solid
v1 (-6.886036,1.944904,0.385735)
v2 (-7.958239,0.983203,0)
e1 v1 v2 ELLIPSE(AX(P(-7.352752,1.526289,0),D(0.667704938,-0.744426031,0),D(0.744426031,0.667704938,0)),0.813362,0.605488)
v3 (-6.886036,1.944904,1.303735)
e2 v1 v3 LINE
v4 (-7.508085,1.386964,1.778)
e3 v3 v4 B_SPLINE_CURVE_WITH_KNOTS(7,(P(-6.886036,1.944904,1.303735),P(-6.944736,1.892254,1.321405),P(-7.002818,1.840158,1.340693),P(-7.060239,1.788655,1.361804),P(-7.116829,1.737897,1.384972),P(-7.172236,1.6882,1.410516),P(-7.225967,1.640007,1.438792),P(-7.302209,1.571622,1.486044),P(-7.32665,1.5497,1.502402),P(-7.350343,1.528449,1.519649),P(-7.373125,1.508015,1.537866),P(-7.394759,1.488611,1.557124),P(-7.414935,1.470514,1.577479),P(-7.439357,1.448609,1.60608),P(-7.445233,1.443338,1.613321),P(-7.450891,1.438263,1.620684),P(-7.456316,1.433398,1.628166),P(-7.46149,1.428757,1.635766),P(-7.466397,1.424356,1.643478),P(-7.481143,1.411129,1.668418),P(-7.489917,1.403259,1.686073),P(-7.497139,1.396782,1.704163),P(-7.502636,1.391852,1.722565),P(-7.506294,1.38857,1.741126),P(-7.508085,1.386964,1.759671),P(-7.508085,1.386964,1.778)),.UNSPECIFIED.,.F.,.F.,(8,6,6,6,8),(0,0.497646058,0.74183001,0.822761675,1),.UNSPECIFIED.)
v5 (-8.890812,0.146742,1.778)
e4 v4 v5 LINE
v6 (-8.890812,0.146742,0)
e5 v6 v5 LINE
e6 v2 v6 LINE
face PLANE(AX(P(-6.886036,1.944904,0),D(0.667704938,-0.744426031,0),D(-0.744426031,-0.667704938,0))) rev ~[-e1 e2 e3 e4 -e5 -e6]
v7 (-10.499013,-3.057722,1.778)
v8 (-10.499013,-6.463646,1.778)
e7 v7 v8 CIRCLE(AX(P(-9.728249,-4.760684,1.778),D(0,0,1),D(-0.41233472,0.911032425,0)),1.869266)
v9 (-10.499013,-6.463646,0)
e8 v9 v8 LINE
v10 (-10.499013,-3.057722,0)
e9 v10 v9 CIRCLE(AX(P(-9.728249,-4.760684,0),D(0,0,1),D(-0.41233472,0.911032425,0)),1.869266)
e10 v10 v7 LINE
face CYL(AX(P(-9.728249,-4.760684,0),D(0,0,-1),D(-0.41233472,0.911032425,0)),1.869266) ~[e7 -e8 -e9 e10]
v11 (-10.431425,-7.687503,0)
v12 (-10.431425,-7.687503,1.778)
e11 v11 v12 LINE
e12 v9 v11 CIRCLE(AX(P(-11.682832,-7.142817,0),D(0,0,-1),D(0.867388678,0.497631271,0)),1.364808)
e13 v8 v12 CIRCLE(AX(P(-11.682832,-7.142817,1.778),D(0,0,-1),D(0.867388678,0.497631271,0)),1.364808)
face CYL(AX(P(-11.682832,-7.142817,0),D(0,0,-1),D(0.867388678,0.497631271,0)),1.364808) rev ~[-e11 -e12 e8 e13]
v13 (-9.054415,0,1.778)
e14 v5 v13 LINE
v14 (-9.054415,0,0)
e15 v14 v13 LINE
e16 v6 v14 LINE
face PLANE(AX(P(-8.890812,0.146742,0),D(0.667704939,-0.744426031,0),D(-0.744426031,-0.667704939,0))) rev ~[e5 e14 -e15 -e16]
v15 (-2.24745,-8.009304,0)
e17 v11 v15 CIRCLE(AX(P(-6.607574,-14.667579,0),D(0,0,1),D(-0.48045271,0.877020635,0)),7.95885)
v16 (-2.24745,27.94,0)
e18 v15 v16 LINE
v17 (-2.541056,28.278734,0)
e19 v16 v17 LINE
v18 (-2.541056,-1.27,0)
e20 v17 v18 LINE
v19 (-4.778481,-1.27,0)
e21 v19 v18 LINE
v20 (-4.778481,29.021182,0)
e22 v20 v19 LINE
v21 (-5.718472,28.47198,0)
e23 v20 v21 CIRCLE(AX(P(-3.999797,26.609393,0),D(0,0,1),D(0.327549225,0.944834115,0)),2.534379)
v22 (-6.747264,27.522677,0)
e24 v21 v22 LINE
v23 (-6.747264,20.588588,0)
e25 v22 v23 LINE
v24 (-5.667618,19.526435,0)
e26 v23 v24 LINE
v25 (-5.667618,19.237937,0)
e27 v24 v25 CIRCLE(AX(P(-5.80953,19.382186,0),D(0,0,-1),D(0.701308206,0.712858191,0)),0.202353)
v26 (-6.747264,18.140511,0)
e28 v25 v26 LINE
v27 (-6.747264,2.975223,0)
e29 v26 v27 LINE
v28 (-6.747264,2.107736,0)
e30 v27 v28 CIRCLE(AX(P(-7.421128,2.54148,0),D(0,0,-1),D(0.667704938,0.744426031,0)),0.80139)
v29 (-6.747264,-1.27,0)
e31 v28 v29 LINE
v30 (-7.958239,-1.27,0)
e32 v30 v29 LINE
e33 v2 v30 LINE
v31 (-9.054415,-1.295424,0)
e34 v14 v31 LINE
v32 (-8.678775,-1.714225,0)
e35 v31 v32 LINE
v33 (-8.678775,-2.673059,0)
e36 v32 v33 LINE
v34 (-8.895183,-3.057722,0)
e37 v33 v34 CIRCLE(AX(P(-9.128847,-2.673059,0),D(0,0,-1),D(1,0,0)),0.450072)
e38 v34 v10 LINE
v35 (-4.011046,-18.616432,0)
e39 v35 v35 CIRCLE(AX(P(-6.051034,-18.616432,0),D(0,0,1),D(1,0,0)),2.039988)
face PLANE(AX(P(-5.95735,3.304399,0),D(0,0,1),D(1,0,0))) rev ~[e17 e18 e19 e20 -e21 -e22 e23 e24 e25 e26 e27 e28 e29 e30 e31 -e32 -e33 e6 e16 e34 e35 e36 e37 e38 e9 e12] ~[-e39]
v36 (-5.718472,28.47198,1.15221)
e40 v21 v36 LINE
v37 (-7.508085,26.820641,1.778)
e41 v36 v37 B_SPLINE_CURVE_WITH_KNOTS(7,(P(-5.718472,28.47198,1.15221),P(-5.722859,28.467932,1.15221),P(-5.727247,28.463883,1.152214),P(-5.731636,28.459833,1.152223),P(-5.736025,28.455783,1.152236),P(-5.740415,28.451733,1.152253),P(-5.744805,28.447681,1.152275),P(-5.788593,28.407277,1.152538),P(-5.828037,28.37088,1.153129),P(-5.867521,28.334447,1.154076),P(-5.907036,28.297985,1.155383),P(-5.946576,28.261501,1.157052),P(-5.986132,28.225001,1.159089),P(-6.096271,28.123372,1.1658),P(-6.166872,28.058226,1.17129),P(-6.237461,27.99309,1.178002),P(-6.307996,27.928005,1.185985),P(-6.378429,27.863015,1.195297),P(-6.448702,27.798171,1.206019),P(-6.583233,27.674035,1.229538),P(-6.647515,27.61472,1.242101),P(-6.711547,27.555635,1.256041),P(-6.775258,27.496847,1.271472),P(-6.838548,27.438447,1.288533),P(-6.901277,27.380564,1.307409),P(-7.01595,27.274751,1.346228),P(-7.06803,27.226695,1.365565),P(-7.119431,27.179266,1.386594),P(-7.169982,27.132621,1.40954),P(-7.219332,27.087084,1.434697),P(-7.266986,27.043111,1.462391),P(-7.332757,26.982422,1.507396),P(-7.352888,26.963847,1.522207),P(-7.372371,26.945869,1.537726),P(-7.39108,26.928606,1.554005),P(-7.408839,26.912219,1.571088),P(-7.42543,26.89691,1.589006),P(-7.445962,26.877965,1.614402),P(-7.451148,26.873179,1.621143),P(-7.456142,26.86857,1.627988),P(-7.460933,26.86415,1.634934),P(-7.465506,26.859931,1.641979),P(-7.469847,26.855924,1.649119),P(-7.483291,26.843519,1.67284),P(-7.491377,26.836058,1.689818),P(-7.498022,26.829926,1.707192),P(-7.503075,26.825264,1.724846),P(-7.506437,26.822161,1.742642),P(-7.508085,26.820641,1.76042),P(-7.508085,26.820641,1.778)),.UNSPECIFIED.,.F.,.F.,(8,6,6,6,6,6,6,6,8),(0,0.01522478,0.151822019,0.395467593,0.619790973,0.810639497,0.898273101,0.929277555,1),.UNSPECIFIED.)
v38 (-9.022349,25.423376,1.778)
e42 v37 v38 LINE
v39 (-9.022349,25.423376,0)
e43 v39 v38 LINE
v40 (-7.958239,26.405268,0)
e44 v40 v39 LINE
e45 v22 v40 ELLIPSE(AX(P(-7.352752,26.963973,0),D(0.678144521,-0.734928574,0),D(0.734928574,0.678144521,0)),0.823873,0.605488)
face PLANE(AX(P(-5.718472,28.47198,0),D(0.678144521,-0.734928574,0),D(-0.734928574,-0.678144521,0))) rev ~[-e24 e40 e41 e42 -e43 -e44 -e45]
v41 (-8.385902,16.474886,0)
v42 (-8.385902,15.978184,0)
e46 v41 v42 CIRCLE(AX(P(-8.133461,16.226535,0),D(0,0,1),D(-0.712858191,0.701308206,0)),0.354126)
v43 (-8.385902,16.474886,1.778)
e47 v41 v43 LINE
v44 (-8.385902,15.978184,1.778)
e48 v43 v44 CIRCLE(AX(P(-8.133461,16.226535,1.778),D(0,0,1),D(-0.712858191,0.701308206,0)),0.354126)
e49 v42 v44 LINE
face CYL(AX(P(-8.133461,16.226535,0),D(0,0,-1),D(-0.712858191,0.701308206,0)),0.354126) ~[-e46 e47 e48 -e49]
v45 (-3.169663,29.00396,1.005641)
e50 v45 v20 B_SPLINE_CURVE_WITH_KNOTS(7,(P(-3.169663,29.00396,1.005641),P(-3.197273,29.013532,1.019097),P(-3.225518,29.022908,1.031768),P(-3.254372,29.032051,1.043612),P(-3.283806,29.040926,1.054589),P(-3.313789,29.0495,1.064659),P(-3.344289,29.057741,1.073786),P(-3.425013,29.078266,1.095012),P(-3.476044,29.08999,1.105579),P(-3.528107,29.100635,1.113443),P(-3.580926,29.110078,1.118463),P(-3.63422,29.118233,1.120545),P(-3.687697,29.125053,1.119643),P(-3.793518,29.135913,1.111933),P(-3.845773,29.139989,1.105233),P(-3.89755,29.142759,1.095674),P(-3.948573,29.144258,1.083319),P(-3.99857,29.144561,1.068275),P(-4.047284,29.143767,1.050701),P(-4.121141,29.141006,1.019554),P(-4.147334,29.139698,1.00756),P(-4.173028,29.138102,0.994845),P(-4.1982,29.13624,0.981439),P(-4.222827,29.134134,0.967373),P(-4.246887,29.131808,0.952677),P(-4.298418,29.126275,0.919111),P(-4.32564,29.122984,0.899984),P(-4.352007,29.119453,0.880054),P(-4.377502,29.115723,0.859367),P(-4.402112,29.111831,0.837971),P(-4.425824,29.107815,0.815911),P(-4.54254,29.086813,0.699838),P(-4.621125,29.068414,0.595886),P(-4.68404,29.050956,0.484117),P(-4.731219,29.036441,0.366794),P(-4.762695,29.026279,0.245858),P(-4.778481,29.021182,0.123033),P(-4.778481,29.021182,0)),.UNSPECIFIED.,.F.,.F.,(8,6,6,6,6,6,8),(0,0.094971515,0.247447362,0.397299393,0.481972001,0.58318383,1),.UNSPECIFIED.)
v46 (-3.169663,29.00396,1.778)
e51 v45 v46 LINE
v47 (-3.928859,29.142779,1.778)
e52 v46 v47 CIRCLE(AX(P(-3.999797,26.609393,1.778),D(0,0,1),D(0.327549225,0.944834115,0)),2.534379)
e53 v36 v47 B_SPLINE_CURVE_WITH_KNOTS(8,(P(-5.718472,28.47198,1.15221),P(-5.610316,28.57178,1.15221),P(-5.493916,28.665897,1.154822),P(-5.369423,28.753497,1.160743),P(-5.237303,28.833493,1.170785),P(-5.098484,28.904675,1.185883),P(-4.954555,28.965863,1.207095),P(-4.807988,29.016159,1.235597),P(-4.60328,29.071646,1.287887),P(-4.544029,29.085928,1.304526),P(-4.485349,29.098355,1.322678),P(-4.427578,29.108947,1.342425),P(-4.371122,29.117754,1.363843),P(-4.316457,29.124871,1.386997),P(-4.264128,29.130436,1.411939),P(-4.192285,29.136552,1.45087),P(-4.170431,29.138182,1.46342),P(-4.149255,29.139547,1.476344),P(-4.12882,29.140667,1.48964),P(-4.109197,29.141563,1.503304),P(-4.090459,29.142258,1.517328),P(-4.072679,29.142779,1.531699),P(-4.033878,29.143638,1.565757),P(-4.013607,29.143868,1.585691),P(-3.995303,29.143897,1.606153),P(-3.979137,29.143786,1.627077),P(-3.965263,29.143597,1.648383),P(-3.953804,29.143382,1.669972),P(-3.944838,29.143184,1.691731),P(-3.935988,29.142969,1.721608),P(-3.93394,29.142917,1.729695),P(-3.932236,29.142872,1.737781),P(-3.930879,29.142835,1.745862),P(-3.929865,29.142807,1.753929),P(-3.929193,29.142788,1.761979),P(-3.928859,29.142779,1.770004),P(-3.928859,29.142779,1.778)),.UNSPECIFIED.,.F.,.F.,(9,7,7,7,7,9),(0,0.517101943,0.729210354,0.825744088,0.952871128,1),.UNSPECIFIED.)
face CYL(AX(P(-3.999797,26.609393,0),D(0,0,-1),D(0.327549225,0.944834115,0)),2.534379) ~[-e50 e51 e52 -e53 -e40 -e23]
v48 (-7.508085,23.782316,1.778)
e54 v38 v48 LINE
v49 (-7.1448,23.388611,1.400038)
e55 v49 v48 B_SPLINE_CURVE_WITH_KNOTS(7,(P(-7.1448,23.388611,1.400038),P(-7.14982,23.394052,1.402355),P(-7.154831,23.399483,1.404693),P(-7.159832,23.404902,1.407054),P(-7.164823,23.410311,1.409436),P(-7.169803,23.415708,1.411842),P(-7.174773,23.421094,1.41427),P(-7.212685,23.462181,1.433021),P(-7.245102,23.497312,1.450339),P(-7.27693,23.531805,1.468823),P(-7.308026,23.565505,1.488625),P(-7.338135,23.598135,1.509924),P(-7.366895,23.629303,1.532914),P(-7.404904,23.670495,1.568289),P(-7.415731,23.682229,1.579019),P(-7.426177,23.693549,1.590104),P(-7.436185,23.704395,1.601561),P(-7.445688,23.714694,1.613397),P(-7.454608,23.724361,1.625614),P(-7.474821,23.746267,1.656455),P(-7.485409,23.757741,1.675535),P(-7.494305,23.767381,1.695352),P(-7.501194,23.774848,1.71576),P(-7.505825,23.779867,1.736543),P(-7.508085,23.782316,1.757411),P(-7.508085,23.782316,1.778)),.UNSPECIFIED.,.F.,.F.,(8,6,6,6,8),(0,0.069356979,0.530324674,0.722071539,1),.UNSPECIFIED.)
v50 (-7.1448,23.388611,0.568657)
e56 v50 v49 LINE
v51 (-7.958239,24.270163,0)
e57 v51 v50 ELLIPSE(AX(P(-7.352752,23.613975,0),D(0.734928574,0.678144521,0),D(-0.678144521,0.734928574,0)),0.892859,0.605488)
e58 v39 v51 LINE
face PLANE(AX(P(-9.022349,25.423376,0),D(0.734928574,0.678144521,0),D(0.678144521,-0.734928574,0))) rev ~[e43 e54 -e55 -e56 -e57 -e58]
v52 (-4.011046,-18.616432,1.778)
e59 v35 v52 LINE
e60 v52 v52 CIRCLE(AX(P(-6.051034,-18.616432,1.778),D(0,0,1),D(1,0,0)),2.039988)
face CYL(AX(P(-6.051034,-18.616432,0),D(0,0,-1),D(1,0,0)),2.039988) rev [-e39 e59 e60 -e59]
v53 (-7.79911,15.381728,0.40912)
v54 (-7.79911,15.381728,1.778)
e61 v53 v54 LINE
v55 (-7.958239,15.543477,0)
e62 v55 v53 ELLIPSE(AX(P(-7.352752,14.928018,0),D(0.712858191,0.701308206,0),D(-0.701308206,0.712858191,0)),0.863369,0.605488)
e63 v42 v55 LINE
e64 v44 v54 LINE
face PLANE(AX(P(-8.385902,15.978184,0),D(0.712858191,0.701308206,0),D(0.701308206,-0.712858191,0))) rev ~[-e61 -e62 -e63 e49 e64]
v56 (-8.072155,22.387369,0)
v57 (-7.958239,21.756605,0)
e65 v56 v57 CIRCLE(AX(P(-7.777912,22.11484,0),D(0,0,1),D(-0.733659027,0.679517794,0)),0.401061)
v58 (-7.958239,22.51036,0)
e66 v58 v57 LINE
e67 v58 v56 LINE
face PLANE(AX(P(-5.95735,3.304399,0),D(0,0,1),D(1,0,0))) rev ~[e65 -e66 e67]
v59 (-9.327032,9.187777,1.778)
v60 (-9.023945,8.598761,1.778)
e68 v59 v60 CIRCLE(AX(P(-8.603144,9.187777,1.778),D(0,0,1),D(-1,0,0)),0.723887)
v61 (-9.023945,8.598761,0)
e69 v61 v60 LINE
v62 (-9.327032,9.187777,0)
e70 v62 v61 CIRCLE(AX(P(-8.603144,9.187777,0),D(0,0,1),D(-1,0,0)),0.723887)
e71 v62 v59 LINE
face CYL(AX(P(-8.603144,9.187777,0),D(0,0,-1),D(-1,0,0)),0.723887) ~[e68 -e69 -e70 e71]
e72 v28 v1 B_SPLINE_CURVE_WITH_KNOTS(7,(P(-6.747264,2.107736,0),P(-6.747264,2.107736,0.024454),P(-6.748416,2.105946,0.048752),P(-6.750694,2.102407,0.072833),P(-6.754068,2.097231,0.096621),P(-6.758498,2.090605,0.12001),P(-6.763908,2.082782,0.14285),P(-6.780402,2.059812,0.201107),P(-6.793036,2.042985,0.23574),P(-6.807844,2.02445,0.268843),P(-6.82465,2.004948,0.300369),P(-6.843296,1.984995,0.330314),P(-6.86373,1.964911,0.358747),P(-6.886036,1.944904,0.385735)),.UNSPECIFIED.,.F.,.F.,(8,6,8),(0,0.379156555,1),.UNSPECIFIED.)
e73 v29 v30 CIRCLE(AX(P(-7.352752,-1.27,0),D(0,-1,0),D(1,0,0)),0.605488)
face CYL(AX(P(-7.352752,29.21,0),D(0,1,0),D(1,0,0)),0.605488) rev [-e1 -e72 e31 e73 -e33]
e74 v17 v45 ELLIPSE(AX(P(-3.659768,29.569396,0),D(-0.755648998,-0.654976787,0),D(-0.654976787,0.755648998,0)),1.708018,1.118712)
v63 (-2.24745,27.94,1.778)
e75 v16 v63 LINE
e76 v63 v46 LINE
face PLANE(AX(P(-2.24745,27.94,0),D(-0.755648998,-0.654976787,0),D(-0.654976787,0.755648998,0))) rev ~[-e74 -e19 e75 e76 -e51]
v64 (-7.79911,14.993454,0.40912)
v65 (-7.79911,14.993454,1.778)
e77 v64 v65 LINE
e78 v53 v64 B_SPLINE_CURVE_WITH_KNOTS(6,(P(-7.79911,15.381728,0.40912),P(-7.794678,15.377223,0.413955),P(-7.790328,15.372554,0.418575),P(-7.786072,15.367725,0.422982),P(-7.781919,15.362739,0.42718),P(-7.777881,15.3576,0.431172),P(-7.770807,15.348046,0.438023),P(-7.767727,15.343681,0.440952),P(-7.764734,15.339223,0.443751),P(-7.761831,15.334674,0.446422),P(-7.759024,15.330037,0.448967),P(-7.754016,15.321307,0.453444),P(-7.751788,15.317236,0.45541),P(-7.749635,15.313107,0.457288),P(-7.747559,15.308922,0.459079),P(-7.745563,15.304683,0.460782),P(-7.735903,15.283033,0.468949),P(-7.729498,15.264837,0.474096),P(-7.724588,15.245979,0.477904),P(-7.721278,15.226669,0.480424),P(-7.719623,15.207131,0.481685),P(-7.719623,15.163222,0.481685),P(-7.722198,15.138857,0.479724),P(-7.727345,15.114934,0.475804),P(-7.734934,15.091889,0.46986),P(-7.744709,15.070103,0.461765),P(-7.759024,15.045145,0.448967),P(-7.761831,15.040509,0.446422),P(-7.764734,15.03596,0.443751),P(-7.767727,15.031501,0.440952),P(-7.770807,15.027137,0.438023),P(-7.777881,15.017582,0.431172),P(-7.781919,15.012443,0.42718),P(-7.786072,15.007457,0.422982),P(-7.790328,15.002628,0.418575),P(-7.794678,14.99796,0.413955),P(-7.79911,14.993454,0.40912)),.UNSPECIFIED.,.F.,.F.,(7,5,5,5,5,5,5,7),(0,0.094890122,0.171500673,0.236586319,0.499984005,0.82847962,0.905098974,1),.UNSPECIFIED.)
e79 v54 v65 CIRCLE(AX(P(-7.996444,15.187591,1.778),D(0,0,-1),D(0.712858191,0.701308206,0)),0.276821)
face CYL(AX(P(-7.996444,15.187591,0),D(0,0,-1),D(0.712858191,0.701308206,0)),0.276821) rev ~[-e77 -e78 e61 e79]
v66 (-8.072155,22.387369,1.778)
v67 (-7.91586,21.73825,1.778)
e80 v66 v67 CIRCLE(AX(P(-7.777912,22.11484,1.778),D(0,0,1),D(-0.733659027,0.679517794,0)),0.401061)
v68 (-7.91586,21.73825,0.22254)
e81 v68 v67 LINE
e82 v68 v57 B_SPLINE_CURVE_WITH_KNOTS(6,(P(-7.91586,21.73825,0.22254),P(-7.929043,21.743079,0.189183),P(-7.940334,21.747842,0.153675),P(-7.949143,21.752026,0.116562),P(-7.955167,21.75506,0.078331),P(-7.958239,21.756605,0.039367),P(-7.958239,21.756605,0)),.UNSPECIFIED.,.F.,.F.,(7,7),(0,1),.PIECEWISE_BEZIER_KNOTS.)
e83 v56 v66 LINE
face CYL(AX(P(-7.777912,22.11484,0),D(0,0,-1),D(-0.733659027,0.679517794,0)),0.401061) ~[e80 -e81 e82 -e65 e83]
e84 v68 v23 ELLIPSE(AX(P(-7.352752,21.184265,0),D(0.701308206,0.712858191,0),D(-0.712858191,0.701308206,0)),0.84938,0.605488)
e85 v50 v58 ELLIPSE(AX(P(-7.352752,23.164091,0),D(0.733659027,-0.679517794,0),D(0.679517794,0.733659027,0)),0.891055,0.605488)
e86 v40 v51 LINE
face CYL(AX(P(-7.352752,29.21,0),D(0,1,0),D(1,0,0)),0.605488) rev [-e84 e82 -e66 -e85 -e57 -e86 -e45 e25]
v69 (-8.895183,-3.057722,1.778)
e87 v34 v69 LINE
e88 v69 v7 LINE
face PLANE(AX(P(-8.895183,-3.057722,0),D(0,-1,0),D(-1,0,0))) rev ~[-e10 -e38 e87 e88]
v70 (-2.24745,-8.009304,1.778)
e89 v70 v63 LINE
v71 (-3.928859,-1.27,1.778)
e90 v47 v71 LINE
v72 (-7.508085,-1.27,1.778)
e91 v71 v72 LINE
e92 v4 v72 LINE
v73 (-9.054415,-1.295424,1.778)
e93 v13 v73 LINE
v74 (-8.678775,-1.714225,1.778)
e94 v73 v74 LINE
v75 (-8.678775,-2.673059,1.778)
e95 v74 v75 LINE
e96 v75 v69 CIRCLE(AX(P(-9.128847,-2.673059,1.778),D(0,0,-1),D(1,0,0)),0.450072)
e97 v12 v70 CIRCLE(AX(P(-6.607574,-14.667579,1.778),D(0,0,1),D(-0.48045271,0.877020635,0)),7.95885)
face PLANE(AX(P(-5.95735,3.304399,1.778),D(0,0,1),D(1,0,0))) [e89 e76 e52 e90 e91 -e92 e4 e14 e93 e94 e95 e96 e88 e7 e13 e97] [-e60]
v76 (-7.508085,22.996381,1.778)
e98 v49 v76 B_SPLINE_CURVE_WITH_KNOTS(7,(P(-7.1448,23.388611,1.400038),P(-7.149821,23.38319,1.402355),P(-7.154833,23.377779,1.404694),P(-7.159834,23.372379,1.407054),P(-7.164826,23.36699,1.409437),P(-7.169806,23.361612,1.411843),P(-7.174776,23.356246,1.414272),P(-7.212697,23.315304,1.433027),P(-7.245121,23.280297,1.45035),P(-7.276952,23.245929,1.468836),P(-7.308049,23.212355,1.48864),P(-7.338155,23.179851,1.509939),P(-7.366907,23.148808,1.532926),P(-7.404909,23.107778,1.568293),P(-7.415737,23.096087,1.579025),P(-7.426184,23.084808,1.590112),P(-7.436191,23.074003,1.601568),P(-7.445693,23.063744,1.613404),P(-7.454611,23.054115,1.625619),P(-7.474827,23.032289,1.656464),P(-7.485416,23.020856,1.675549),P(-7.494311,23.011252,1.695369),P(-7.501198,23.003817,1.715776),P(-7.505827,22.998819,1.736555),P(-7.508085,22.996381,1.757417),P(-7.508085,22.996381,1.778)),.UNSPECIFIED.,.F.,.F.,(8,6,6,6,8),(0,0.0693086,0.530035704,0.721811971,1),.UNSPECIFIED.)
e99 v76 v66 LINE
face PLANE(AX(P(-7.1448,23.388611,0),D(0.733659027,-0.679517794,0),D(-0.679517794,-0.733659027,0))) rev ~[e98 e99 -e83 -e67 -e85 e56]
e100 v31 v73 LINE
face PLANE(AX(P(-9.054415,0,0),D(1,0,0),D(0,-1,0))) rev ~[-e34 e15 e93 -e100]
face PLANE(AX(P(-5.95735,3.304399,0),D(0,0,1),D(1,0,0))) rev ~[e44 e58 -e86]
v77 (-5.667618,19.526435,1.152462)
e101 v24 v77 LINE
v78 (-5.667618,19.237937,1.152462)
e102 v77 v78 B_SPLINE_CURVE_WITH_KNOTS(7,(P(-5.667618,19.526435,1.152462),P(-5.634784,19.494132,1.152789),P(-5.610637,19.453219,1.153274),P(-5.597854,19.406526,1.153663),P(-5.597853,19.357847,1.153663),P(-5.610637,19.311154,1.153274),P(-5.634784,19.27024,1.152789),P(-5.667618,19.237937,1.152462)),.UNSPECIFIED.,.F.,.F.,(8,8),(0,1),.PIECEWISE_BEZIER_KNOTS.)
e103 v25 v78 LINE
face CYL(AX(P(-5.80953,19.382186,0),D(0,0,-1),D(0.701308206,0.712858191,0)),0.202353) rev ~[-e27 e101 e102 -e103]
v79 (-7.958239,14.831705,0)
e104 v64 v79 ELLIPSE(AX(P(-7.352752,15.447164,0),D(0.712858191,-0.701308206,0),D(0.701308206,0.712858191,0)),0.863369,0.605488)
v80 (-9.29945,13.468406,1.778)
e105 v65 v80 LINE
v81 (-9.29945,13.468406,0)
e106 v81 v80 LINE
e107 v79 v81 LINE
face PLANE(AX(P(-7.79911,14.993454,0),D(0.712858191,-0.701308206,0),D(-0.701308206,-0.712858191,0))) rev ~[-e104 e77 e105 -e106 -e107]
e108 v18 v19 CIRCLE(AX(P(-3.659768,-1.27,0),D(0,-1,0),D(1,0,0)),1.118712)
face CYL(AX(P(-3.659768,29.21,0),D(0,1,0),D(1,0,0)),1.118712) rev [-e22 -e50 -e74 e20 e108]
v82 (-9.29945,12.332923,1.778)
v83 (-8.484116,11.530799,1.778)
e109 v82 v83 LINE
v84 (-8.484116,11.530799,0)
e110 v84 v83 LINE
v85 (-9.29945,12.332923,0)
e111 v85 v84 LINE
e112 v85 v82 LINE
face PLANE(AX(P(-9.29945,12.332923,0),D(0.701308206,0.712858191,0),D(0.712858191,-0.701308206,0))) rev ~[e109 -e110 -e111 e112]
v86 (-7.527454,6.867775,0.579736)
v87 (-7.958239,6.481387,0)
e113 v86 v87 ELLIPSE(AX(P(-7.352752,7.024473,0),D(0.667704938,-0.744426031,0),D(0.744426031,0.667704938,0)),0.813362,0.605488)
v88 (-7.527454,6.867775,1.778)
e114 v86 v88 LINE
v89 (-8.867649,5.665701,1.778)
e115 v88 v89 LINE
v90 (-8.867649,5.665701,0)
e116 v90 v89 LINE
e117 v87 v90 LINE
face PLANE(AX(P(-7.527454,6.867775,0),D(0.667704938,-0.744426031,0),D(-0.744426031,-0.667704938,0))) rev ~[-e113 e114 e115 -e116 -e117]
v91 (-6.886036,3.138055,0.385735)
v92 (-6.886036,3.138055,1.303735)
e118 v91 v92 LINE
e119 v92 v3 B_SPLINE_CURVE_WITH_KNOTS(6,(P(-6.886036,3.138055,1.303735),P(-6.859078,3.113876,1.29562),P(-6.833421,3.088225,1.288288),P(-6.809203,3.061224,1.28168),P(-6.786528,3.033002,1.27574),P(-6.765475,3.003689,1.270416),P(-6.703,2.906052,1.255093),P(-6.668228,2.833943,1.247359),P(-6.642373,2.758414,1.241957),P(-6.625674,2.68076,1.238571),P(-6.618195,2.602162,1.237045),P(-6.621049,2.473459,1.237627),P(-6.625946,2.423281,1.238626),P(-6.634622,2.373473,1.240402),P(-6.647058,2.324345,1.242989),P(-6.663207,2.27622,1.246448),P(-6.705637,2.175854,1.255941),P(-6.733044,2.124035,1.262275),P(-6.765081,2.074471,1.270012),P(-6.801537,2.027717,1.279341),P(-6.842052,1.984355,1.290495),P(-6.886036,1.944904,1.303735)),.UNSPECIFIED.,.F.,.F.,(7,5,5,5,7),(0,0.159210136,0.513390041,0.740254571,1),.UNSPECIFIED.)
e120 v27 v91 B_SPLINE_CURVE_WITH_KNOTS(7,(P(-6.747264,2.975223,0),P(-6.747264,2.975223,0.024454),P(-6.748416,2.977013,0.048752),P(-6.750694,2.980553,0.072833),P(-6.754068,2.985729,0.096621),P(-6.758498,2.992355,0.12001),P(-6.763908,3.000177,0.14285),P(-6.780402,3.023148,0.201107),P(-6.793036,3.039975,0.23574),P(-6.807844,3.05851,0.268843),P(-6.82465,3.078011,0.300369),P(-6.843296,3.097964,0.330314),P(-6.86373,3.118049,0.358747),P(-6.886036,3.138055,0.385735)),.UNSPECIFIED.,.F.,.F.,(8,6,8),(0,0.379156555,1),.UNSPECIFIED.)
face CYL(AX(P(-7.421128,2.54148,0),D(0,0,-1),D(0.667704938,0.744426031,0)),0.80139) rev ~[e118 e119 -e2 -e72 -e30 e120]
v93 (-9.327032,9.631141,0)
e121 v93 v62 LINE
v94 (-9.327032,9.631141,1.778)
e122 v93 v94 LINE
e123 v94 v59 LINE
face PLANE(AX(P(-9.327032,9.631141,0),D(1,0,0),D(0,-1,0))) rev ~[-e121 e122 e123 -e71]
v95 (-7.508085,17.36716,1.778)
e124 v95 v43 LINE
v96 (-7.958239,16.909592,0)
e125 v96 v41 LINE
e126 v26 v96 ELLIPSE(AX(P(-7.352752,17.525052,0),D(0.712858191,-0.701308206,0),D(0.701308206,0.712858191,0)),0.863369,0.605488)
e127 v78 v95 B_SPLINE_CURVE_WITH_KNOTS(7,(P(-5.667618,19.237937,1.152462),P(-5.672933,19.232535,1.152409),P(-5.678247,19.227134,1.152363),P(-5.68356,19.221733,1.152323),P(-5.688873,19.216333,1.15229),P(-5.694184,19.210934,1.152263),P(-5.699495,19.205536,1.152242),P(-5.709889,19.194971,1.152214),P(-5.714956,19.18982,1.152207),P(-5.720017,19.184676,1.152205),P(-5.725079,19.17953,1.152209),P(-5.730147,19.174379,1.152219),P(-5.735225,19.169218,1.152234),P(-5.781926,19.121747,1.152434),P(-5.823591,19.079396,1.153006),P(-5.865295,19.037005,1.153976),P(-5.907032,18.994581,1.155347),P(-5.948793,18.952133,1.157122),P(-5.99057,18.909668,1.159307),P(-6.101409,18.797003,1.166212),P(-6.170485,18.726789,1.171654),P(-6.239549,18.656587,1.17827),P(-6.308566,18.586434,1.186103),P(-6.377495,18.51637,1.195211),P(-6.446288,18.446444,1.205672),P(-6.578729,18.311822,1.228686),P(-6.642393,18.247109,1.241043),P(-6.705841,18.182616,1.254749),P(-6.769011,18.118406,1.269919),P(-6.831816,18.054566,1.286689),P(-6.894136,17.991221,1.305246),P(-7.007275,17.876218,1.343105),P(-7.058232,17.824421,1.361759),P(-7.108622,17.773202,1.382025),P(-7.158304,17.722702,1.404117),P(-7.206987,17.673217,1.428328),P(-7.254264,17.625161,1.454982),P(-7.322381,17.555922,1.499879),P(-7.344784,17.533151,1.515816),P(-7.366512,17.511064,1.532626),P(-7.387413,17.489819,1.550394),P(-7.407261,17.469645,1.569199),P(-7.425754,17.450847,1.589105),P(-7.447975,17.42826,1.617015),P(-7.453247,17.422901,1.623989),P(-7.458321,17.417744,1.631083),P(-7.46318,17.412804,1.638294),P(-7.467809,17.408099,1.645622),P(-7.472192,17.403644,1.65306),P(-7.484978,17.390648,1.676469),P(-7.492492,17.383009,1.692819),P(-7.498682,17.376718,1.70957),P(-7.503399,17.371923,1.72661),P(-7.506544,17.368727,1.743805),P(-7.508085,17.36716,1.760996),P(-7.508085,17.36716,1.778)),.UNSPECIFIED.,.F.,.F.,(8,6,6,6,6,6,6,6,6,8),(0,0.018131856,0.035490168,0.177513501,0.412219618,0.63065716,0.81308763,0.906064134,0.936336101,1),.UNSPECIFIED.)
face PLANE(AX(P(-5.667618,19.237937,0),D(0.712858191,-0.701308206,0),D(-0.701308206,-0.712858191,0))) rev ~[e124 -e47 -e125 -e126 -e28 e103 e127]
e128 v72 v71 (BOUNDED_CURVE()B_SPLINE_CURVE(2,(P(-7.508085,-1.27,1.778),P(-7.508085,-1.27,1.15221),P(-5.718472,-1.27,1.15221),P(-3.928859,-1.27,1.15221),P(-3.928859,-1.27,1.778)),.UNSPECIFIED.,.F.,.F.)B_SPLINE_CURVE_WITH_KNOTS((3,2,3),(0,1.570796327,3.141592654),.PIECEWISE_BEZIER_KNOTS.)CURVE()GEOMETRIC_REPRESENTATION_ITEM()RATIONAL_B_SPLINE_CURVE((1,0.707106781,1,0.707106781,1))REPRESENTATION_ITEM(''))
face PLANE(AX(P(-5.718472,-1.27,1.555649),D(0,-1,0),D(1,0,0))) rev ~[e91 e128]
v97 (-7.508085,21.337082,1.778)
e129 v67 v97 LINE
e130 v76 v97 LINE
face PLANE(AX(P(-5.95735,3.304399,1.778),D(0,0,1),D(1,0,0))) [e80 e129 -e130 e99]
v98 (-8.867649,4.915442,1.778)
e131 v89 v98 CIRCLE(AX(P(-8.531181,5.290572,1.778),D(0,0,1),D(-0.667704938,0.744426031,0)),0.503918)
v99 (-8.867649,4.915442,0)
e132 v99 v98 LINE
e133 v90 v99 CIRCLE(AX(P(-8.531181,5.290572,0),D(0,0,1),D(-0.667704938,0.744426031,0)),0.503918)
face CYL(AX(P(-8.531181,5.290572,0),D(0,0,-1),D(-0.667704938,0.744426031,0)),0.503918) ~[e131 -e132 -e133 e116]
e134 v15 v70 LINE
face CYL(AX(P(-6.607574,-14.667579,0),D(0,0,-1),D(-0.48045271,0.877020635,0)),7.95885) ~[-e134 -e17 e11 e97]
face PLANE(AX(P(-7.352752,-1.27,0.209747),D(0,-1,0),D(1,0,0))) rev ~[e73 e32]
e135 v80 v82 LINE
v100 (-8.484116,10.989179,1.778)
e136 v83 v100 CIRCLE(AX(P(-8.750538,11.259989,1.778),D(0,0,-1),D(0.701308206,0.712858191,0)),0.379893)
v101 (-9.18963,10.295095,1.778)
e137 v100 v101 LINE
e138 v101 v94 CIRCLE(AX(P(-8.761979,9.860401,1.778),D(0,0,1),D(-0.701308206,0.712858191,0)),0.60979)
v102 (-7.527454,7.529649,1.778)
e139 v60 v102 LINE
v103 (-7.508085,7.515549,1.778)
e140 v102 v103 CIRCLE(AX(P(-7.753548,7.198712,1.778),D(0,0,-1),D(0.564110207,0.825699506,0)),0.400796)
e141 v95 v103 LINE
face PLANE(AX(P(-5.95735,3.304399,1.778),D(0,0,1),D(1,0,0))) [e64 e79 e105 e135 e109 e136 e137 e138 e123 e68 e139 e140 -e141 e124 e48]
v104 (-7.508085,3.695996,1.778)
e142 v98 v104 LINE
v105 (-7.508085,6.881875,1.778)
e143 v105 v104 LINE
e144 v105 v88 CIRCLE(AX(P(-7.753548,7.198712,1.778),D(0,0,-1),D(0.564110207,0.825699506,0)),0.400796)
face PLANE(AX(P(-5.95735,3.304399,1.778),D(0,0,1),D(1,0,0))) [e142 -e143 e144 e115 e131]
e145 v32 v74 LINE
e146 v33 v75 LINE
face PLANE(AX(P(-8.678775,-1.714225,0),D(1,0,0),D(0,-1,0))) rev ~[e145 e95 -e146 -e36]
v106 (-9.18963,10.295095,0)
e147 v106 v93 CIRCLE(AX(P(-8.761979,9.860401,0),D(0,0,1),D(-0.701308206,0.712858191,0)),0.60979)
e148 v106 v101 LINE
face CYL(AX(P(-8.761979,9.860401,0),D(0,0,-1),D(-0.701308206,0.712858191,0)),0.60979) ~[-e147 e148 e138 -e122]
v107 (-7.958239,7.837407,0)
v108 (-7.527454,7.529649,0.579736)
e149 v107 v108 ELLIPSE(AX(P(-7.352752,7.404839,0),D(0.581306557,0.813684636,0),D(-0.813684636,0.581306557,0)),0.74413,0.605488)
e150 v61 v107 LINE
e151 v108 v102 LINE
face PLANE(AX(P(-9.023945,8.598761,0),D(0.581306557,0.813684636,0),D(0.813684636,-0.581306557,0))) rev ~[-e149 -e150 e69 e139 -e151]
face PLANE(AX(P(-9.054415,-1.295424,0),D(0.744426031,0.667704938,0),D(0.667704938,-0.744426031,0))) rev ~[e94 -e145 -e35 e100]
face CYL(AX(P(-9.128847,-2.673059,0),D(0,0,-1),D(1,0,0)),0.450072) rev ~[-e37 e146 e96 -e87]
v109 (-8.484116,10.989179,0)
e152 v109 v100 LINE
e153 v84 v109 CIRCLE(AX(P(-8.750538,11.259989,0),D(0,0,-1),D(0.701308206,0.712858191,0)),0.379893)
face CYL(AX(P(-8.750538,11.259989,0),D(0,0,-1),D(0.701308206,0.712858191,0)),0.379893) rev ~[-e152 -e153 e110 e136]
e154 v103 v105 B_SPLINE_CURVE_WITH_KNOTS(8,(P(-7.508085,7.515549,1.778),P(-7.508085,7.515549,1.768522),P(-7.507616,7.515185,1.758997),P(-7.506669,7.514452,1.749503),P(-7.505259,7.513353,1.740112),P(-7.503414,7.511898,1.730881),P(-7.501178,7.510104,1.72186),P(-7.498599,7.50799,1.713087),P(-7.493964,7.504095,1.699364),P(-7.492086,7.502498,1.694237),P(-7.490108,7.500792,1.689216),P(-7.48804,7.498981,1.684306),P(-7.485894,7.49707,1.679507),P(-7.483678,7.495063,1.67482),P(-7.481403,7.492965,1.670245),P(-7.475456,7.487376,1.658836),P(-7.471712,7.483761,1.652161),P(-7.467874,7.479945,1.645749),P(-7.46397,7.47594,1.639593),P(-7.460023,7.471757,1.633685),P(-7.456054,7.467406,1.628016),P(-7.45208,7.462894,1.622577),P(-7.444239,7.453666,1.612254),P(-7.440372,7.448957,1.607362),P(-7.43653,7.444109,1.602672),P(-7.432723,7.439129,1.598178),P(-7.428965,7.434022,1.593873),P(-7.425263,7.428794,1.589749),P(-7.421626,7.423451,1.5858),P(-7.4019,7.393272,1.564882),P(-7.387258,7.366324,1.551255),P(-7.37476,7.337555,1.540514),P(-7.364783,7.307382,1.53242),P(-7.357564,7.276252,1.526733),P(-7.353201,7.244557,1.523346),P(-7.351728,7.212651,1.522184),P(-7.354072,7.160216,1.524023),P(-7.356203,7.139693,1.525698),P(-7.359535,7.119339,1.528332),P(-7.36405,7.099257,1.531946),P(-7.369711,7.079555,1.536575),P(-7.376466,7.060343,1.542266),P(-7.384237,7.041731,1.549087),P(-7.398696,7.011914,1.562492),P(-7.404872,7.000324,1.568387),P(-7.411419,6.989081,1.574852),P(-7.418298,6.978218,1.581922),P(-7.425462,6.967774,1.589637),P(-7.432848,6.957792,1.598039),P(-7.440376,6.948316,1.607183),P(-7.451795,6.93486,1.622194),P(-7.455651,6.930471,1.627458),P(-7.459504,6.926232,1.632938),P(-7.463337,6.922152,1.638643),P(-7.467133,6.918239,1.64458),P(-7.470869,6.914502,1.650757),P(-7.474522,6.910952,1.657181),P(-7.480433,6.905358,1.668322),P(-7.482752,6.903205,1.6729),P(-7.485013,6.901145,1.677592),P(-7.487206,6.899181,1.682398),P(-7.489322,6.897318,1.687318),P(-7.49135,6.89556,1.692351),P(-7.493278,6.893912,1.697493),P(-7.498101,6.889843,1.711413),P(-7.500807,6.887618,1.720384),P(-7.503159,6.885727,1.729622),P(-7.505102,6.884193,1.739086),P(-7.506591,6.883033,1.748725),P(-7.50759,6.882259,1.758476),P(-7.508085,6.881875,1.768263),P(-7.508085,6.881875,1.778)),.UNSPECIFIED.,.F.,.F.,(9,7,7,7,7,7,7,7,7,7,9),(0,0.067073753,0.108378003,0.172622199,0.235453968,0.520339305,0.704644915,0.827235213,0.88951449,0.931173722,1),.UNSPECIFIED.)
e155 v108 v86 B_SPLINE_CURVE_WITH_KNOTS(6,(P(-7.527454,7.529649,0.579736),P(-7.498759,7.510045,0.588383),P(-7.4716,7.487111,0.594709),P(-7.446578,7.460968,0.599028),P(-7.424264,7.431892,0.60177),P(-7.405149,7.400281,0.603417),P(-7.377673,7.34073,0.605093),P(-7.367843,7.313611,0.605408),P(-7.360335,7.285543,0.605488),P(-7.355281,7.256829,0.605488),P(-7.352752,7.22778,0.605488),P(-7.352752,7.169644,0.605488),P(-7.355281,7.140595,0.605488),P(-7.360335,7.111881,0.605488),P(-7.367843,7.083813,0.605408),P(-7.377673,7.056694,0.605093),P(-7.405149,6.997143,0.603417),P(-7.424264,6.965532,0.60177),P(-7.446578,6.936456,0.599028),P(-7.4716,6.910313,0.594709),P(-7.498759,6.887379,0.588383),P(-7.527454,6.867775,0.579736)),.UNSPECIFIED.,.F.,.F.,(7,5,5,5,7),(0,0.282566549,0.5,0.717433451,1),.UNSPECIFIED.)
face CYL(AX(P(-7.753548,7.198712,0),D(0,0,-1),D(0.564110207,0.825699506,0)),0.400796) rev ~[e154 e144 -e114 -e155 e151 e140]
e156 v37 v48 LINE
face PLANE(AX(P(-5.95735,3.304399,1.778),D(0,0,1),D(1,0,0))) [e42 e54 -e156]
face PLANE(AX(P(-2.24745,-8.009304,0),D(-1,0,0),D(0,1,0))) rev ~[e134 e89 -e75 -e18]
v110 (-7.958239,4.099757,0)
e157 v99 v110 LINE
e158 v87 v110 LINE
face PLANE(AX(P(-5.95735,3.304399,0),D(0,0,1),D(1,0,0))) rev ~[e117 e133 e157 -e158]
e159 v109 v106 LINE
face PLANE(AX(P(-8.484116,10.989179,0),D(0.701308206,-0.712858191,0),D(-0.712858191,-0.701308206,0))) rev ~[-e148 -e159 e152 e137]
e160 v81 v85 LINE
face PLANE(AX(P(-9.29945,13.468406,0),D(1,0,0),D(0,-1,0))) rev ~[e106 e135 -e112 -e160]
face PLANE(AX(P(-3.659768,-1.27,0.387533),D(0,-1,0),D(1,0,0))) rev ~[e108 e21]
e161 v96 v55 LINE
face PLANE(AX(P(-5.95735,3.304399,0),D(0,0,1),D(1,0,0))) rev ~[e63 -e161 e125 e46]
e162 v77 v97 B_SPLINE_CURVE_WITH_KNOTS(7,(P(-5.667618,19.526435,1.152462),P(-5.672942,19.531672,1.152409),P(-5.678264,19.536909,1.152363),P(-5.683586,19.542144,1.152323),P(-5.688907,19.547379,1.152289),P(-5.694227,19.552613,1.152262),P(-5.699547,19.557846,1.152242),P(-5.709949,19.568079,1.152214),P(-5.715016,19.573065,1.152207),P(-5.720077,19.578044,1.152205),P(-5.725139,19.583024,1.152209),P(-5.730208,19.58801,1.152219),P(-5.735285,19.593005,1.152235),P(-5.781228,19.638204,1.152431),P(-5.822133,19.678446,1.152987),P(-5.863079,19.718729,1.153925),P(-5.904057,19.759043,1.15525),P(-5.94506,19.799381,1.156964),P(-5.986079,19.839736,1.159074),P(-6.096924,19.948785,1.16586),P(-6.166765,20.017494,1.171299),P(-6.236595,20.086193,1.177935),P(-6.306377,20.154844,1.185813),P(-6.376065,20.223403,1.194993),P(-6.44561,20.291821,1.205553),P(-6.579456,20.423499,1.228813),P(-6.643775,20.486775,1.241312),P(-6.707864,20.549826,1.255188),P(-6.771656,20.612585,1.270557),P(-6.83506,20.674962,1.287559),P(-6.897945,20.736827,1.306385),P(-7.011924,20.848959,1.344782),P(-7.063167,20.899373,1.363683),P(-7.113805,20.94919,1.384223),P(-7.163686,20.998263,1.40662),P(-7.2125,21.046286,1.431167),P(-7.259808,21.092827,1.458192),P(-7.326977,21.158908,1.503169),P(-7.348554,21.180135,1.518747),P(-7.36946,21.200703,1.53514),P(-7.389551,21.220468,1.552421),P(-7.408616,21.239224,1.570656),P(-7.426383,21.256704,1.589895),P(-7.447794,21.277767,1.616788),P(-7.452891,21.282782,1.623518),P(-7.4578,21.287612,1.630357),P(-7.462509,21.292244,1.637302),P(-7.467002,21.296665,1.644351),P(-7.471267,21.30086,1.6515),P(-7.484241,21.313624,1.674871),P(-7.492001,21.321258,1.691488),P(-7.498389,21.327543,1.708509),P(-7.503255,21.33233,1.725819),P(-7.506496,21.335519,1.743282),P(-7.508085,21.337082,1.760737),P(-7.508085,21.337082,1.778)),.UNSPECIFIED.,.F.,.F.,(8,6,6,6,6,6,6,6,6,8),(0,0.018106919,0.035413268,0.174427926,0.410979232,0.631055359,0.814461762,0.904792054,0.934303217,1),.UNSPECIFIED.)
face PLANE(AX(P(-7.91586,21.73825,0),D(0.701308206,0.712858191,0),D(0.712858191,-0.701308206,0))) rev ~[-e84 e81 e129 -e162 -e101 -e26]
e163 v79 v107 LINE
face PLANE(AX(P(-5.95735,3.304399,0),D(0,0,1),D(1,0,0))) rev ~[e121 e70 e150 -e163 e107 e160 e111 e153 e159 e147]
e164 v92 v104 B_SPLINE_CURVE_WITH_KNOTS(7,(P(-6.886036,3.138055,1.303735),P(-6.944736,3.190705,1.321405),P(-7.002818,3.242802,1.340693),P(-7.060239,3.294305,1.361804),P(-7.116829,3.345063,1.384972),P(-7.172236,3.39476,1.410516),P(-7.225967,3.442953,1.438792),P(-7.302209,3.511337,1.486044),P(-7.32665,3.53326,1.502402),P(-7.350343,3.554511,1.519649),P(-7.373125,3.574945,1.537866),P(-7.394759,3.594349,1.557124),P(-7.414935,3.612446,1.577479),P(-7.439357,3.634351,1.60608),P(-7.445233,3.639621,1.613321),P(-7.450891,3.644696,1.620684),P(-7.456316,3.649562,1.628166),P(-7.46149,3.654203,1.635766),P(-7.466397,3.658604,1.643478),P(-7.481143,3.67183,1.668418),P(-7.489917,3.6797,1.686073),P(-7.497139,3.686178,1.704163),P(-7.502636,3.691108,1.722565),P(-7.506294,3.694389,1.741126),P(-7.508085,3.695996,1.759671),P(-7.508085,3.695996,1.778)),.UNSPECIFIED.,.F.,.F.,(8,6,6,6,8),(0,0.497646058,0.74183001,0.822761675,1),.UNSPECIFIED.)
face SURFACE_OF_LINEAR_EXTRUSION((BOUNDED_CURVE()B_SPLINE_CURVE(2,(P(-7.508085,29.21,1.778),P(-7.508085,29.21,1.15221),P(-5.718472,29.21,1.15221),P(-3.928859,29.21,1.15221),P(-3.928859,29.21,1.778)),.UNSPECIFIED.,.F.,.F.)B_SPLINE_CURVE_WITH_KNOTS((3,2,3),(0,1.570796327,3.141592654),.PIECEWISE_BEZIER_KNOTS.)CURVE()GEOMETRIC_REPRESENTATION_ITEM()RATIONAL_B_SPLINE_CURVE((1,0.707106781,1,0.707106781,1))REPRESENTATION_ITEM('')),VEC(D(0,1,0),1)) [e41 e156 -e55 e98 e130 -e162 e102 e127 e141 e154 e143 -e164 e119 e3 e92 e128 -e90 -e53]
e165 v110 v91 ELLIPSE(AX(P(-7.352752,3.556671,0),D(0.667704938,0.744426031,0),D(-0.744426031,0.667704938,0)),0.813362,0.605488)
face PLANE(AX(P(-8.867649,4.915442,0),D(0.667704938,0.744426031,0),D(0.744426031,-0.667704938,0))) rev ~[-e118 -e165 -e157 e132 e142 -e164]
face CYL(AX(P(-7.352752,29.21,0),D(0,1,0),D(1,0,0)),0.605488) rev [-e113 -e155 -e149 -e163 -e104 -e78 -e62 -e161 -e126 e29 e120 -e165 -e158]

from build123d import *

# Parameters (mm, degrees)
F0_R     = 2.0399875939
F1_DEPTH = 1.778
F4_DEPTH = 30.48


with BuildPart() as f1:
    # F0 (on Top) → F1 (new body)
    with BuildSketch(Plane.XY):
        with BuildLine():
            Line((-2.2474500444, -2.9117424699), (-2.2474500444, 0))
            Line((-2.2474500444, 0), (-2.2474500444, 27.94))
            Line((-2.2474500444, 27.94), (-3.1696630176, 29.0039603153))
            ThreePointArc((-3.1696630176, 29.0039603153), (-4.517606772, 29.0903096878), (-5.7184719481, 28.4719801577))
            Line((-5.7184719481, 28.4719801577), (-9.0223492482, 25.4233760263))
            Line((-9.0223492482, 25.4233760263), (-7.1447999217, 23.3886111528))
            Line((-7.1447999217, 23.3886111528), (-8.0721545964, 22.3873686045))
            ThreePointArc((-8.0721545964, 22.3873686045), (-8.1678301412, 22.0209562196), (-7.915860042, 21.7382498085))
            Line((-7.915860042, 21.7382498085), (-5.6676184759, 19.5264350623))
            ThreePointArc((-5.6676184759, 19.5264350623), (-5.6071773645, 19.382186234), (-5.6676184759, 19.2379374057))
            Line((-5.6676184759, 19.2379374057), (-8.3859020022, 16.4748859237))
            ThreePointArc((-8.3859020022, 16.4748859237), (-8.487586257, 16.2265347605), (-8.3859020022, 15.9781835973))
            Line((-8.3859020022, 15.9781835973), (-7.7991103753, 15.3817279816))
            ThreePointArc((-7.7991103753, 15.3817279816), (-7.7196234979, 15.1875911557), (-7.7991103753, 14.9934543297))
            Line((-7.7991103753, 14.9934543297), (-9.2994498013, 13.4684055134))
            Line((-9.2994498013, 13.4684055134), (-9.2994498013, 12.332922779))
            Line((-9.2994498013, 12.332922779), (-8.4841159, 11.5307992114))
            ThreePointArc((-8.4841159, 11.5307992114), (-8.3706448453, 11.2599890574), (-8.4841159, 10.9891789034))
            Line((-8.4841159, 10.9891789034), (-9.1896303815, 10.2950954218))
            ThreePointArc((-9.1896303815, 10.2950954218), (-9.3591173772, 9.9839753745), (-9.327031672, 9.6311410889))
            Line((-9.327031672, 9.6311410889), (-9.327031672, 9.1877765954))
            ThreePointArc((-9.327031672, 9.1877765954), (-9.2468154608, 8.856566184), (-9.0239448473, 8.5987607017))
            Line((-9.0239448473, 8.5987607017), (-7.5274544806, 7.5296491278))
            ThreePointArc((-7.5274544806, 7.5296491278), (-7.35275153, 7.198711945), (-7.5274544806, 6.8677747622))
            Line((-7.5274544806, 6.8677747622), (-8.8676493615, 5.6657013483))
            ThreePointArc((-8.8676493615, 5.6657013483), (-9.0350987524, 5.290571833), (-8.8676493615, 4.9154423177))
            Line((-8.8676493615, 4.9154423177), (-6.8860357023, 3.1380552151))
            ThreePointArc((-6.8860357023, 3.1380552151), (-6.6197378492, 2.5414798318), (-6.8860357023, 1.9449044485))
            Line((-6.8860357023, 1.9449044485), (-8.8908116128, 0.1467422132))
            Line((-8.8908116128, 0.1467422132), (-9.0544149007, 0))
            Line((-9.0544149007, 0), (-9.0544149007, -1.2954237172))
            Line((-9.0544149007, -1.2954237172), (-8.6787752807, -1.7142253395))
            Line((-8.6787752807, -1.7142253395), (-8.6787752807, -2.6730590034))
            ThreePointArc((-8.6787752807, -2.6730590034), (-8.7365906278, -2.8937386893), (-8.8951829821, -3.0577222351))
            Line((-8.8951829821, -3.0577222351), (-10.4990126565, -3.0577222351))
            ThreePointArc((-10.4990126565, -3.0577222351), (-11.5975153355, -4.7606840963), (-10.4990126565, -6.4636459574))
            ThreePointArc((-10.4990126565, -6.4636459574), (-10.3201001064, -7.0675601765), (-10.4314250686, -7.6875027847))
            ThreePointArc((-10.4314250686, -7.6875027847), (-6.9202814869, -22.620283669), (-2.2474500444, -8.0093042186))
            Line((-2.2474500444, -8.0093042186), (-2.2474500444, -2.9117424699))
        make_face()
        with Locations((-6.0510337353, -18.6164323241)):
            Circle(F0_R, mode=Mode.SUBTRACT)
    extrude(amount=F1_DEPTH)

    # F3 (on offset) → F4 (cut)
    with BuildSketch(Plane.XZ.offset(-29.21)):
        with BuildLine():
            add(Edge.make_bspline(
                [(-7.5080851093, 1.778), (-7.5080851093, 1.1522095813), (-5.7184719481, 1.1522095813), (-3.9288587868, 1.1522095813), (-3.9288587868, 1.778)],
                knots=[0, 0, 0, 1.5707963268, 1.5707963268, 3.1415926536, 3.1415926536, 3.1415926536], degree=2, weights=[1, 0.7071067812, 1, 0.7071067812, 1]))
            Line((-3.9288587868, 1.778), (-5.7184719481, 1.778))
            Line((-5.7184719481, 1.778), (-7.5080851093, 1.778))
        make_face()
        with BuildLine():
            Line((-7.9582390594, 0), (-6.7472640007, 0))
            ThreePointArc((-6.7472640007, 0), (-7.35275153, 0.6054875294), (-7.9582390594, 0))
        make_face()
        with BuildLine():
            Line((-4.7784805667, 0), (-3.1696630176, 0))
            Line((-3.1696630176, 0), (-2.5410559591, 0))
            ThreePointArc((-2.5410559591, 0), (-3.6597682629, 1.1187123038), (-4.7784805667, 0))
        make_face()
    extrude(amount=F4_DEPTH, mode=Mode.SUBTRACT)


solid = f1.part
